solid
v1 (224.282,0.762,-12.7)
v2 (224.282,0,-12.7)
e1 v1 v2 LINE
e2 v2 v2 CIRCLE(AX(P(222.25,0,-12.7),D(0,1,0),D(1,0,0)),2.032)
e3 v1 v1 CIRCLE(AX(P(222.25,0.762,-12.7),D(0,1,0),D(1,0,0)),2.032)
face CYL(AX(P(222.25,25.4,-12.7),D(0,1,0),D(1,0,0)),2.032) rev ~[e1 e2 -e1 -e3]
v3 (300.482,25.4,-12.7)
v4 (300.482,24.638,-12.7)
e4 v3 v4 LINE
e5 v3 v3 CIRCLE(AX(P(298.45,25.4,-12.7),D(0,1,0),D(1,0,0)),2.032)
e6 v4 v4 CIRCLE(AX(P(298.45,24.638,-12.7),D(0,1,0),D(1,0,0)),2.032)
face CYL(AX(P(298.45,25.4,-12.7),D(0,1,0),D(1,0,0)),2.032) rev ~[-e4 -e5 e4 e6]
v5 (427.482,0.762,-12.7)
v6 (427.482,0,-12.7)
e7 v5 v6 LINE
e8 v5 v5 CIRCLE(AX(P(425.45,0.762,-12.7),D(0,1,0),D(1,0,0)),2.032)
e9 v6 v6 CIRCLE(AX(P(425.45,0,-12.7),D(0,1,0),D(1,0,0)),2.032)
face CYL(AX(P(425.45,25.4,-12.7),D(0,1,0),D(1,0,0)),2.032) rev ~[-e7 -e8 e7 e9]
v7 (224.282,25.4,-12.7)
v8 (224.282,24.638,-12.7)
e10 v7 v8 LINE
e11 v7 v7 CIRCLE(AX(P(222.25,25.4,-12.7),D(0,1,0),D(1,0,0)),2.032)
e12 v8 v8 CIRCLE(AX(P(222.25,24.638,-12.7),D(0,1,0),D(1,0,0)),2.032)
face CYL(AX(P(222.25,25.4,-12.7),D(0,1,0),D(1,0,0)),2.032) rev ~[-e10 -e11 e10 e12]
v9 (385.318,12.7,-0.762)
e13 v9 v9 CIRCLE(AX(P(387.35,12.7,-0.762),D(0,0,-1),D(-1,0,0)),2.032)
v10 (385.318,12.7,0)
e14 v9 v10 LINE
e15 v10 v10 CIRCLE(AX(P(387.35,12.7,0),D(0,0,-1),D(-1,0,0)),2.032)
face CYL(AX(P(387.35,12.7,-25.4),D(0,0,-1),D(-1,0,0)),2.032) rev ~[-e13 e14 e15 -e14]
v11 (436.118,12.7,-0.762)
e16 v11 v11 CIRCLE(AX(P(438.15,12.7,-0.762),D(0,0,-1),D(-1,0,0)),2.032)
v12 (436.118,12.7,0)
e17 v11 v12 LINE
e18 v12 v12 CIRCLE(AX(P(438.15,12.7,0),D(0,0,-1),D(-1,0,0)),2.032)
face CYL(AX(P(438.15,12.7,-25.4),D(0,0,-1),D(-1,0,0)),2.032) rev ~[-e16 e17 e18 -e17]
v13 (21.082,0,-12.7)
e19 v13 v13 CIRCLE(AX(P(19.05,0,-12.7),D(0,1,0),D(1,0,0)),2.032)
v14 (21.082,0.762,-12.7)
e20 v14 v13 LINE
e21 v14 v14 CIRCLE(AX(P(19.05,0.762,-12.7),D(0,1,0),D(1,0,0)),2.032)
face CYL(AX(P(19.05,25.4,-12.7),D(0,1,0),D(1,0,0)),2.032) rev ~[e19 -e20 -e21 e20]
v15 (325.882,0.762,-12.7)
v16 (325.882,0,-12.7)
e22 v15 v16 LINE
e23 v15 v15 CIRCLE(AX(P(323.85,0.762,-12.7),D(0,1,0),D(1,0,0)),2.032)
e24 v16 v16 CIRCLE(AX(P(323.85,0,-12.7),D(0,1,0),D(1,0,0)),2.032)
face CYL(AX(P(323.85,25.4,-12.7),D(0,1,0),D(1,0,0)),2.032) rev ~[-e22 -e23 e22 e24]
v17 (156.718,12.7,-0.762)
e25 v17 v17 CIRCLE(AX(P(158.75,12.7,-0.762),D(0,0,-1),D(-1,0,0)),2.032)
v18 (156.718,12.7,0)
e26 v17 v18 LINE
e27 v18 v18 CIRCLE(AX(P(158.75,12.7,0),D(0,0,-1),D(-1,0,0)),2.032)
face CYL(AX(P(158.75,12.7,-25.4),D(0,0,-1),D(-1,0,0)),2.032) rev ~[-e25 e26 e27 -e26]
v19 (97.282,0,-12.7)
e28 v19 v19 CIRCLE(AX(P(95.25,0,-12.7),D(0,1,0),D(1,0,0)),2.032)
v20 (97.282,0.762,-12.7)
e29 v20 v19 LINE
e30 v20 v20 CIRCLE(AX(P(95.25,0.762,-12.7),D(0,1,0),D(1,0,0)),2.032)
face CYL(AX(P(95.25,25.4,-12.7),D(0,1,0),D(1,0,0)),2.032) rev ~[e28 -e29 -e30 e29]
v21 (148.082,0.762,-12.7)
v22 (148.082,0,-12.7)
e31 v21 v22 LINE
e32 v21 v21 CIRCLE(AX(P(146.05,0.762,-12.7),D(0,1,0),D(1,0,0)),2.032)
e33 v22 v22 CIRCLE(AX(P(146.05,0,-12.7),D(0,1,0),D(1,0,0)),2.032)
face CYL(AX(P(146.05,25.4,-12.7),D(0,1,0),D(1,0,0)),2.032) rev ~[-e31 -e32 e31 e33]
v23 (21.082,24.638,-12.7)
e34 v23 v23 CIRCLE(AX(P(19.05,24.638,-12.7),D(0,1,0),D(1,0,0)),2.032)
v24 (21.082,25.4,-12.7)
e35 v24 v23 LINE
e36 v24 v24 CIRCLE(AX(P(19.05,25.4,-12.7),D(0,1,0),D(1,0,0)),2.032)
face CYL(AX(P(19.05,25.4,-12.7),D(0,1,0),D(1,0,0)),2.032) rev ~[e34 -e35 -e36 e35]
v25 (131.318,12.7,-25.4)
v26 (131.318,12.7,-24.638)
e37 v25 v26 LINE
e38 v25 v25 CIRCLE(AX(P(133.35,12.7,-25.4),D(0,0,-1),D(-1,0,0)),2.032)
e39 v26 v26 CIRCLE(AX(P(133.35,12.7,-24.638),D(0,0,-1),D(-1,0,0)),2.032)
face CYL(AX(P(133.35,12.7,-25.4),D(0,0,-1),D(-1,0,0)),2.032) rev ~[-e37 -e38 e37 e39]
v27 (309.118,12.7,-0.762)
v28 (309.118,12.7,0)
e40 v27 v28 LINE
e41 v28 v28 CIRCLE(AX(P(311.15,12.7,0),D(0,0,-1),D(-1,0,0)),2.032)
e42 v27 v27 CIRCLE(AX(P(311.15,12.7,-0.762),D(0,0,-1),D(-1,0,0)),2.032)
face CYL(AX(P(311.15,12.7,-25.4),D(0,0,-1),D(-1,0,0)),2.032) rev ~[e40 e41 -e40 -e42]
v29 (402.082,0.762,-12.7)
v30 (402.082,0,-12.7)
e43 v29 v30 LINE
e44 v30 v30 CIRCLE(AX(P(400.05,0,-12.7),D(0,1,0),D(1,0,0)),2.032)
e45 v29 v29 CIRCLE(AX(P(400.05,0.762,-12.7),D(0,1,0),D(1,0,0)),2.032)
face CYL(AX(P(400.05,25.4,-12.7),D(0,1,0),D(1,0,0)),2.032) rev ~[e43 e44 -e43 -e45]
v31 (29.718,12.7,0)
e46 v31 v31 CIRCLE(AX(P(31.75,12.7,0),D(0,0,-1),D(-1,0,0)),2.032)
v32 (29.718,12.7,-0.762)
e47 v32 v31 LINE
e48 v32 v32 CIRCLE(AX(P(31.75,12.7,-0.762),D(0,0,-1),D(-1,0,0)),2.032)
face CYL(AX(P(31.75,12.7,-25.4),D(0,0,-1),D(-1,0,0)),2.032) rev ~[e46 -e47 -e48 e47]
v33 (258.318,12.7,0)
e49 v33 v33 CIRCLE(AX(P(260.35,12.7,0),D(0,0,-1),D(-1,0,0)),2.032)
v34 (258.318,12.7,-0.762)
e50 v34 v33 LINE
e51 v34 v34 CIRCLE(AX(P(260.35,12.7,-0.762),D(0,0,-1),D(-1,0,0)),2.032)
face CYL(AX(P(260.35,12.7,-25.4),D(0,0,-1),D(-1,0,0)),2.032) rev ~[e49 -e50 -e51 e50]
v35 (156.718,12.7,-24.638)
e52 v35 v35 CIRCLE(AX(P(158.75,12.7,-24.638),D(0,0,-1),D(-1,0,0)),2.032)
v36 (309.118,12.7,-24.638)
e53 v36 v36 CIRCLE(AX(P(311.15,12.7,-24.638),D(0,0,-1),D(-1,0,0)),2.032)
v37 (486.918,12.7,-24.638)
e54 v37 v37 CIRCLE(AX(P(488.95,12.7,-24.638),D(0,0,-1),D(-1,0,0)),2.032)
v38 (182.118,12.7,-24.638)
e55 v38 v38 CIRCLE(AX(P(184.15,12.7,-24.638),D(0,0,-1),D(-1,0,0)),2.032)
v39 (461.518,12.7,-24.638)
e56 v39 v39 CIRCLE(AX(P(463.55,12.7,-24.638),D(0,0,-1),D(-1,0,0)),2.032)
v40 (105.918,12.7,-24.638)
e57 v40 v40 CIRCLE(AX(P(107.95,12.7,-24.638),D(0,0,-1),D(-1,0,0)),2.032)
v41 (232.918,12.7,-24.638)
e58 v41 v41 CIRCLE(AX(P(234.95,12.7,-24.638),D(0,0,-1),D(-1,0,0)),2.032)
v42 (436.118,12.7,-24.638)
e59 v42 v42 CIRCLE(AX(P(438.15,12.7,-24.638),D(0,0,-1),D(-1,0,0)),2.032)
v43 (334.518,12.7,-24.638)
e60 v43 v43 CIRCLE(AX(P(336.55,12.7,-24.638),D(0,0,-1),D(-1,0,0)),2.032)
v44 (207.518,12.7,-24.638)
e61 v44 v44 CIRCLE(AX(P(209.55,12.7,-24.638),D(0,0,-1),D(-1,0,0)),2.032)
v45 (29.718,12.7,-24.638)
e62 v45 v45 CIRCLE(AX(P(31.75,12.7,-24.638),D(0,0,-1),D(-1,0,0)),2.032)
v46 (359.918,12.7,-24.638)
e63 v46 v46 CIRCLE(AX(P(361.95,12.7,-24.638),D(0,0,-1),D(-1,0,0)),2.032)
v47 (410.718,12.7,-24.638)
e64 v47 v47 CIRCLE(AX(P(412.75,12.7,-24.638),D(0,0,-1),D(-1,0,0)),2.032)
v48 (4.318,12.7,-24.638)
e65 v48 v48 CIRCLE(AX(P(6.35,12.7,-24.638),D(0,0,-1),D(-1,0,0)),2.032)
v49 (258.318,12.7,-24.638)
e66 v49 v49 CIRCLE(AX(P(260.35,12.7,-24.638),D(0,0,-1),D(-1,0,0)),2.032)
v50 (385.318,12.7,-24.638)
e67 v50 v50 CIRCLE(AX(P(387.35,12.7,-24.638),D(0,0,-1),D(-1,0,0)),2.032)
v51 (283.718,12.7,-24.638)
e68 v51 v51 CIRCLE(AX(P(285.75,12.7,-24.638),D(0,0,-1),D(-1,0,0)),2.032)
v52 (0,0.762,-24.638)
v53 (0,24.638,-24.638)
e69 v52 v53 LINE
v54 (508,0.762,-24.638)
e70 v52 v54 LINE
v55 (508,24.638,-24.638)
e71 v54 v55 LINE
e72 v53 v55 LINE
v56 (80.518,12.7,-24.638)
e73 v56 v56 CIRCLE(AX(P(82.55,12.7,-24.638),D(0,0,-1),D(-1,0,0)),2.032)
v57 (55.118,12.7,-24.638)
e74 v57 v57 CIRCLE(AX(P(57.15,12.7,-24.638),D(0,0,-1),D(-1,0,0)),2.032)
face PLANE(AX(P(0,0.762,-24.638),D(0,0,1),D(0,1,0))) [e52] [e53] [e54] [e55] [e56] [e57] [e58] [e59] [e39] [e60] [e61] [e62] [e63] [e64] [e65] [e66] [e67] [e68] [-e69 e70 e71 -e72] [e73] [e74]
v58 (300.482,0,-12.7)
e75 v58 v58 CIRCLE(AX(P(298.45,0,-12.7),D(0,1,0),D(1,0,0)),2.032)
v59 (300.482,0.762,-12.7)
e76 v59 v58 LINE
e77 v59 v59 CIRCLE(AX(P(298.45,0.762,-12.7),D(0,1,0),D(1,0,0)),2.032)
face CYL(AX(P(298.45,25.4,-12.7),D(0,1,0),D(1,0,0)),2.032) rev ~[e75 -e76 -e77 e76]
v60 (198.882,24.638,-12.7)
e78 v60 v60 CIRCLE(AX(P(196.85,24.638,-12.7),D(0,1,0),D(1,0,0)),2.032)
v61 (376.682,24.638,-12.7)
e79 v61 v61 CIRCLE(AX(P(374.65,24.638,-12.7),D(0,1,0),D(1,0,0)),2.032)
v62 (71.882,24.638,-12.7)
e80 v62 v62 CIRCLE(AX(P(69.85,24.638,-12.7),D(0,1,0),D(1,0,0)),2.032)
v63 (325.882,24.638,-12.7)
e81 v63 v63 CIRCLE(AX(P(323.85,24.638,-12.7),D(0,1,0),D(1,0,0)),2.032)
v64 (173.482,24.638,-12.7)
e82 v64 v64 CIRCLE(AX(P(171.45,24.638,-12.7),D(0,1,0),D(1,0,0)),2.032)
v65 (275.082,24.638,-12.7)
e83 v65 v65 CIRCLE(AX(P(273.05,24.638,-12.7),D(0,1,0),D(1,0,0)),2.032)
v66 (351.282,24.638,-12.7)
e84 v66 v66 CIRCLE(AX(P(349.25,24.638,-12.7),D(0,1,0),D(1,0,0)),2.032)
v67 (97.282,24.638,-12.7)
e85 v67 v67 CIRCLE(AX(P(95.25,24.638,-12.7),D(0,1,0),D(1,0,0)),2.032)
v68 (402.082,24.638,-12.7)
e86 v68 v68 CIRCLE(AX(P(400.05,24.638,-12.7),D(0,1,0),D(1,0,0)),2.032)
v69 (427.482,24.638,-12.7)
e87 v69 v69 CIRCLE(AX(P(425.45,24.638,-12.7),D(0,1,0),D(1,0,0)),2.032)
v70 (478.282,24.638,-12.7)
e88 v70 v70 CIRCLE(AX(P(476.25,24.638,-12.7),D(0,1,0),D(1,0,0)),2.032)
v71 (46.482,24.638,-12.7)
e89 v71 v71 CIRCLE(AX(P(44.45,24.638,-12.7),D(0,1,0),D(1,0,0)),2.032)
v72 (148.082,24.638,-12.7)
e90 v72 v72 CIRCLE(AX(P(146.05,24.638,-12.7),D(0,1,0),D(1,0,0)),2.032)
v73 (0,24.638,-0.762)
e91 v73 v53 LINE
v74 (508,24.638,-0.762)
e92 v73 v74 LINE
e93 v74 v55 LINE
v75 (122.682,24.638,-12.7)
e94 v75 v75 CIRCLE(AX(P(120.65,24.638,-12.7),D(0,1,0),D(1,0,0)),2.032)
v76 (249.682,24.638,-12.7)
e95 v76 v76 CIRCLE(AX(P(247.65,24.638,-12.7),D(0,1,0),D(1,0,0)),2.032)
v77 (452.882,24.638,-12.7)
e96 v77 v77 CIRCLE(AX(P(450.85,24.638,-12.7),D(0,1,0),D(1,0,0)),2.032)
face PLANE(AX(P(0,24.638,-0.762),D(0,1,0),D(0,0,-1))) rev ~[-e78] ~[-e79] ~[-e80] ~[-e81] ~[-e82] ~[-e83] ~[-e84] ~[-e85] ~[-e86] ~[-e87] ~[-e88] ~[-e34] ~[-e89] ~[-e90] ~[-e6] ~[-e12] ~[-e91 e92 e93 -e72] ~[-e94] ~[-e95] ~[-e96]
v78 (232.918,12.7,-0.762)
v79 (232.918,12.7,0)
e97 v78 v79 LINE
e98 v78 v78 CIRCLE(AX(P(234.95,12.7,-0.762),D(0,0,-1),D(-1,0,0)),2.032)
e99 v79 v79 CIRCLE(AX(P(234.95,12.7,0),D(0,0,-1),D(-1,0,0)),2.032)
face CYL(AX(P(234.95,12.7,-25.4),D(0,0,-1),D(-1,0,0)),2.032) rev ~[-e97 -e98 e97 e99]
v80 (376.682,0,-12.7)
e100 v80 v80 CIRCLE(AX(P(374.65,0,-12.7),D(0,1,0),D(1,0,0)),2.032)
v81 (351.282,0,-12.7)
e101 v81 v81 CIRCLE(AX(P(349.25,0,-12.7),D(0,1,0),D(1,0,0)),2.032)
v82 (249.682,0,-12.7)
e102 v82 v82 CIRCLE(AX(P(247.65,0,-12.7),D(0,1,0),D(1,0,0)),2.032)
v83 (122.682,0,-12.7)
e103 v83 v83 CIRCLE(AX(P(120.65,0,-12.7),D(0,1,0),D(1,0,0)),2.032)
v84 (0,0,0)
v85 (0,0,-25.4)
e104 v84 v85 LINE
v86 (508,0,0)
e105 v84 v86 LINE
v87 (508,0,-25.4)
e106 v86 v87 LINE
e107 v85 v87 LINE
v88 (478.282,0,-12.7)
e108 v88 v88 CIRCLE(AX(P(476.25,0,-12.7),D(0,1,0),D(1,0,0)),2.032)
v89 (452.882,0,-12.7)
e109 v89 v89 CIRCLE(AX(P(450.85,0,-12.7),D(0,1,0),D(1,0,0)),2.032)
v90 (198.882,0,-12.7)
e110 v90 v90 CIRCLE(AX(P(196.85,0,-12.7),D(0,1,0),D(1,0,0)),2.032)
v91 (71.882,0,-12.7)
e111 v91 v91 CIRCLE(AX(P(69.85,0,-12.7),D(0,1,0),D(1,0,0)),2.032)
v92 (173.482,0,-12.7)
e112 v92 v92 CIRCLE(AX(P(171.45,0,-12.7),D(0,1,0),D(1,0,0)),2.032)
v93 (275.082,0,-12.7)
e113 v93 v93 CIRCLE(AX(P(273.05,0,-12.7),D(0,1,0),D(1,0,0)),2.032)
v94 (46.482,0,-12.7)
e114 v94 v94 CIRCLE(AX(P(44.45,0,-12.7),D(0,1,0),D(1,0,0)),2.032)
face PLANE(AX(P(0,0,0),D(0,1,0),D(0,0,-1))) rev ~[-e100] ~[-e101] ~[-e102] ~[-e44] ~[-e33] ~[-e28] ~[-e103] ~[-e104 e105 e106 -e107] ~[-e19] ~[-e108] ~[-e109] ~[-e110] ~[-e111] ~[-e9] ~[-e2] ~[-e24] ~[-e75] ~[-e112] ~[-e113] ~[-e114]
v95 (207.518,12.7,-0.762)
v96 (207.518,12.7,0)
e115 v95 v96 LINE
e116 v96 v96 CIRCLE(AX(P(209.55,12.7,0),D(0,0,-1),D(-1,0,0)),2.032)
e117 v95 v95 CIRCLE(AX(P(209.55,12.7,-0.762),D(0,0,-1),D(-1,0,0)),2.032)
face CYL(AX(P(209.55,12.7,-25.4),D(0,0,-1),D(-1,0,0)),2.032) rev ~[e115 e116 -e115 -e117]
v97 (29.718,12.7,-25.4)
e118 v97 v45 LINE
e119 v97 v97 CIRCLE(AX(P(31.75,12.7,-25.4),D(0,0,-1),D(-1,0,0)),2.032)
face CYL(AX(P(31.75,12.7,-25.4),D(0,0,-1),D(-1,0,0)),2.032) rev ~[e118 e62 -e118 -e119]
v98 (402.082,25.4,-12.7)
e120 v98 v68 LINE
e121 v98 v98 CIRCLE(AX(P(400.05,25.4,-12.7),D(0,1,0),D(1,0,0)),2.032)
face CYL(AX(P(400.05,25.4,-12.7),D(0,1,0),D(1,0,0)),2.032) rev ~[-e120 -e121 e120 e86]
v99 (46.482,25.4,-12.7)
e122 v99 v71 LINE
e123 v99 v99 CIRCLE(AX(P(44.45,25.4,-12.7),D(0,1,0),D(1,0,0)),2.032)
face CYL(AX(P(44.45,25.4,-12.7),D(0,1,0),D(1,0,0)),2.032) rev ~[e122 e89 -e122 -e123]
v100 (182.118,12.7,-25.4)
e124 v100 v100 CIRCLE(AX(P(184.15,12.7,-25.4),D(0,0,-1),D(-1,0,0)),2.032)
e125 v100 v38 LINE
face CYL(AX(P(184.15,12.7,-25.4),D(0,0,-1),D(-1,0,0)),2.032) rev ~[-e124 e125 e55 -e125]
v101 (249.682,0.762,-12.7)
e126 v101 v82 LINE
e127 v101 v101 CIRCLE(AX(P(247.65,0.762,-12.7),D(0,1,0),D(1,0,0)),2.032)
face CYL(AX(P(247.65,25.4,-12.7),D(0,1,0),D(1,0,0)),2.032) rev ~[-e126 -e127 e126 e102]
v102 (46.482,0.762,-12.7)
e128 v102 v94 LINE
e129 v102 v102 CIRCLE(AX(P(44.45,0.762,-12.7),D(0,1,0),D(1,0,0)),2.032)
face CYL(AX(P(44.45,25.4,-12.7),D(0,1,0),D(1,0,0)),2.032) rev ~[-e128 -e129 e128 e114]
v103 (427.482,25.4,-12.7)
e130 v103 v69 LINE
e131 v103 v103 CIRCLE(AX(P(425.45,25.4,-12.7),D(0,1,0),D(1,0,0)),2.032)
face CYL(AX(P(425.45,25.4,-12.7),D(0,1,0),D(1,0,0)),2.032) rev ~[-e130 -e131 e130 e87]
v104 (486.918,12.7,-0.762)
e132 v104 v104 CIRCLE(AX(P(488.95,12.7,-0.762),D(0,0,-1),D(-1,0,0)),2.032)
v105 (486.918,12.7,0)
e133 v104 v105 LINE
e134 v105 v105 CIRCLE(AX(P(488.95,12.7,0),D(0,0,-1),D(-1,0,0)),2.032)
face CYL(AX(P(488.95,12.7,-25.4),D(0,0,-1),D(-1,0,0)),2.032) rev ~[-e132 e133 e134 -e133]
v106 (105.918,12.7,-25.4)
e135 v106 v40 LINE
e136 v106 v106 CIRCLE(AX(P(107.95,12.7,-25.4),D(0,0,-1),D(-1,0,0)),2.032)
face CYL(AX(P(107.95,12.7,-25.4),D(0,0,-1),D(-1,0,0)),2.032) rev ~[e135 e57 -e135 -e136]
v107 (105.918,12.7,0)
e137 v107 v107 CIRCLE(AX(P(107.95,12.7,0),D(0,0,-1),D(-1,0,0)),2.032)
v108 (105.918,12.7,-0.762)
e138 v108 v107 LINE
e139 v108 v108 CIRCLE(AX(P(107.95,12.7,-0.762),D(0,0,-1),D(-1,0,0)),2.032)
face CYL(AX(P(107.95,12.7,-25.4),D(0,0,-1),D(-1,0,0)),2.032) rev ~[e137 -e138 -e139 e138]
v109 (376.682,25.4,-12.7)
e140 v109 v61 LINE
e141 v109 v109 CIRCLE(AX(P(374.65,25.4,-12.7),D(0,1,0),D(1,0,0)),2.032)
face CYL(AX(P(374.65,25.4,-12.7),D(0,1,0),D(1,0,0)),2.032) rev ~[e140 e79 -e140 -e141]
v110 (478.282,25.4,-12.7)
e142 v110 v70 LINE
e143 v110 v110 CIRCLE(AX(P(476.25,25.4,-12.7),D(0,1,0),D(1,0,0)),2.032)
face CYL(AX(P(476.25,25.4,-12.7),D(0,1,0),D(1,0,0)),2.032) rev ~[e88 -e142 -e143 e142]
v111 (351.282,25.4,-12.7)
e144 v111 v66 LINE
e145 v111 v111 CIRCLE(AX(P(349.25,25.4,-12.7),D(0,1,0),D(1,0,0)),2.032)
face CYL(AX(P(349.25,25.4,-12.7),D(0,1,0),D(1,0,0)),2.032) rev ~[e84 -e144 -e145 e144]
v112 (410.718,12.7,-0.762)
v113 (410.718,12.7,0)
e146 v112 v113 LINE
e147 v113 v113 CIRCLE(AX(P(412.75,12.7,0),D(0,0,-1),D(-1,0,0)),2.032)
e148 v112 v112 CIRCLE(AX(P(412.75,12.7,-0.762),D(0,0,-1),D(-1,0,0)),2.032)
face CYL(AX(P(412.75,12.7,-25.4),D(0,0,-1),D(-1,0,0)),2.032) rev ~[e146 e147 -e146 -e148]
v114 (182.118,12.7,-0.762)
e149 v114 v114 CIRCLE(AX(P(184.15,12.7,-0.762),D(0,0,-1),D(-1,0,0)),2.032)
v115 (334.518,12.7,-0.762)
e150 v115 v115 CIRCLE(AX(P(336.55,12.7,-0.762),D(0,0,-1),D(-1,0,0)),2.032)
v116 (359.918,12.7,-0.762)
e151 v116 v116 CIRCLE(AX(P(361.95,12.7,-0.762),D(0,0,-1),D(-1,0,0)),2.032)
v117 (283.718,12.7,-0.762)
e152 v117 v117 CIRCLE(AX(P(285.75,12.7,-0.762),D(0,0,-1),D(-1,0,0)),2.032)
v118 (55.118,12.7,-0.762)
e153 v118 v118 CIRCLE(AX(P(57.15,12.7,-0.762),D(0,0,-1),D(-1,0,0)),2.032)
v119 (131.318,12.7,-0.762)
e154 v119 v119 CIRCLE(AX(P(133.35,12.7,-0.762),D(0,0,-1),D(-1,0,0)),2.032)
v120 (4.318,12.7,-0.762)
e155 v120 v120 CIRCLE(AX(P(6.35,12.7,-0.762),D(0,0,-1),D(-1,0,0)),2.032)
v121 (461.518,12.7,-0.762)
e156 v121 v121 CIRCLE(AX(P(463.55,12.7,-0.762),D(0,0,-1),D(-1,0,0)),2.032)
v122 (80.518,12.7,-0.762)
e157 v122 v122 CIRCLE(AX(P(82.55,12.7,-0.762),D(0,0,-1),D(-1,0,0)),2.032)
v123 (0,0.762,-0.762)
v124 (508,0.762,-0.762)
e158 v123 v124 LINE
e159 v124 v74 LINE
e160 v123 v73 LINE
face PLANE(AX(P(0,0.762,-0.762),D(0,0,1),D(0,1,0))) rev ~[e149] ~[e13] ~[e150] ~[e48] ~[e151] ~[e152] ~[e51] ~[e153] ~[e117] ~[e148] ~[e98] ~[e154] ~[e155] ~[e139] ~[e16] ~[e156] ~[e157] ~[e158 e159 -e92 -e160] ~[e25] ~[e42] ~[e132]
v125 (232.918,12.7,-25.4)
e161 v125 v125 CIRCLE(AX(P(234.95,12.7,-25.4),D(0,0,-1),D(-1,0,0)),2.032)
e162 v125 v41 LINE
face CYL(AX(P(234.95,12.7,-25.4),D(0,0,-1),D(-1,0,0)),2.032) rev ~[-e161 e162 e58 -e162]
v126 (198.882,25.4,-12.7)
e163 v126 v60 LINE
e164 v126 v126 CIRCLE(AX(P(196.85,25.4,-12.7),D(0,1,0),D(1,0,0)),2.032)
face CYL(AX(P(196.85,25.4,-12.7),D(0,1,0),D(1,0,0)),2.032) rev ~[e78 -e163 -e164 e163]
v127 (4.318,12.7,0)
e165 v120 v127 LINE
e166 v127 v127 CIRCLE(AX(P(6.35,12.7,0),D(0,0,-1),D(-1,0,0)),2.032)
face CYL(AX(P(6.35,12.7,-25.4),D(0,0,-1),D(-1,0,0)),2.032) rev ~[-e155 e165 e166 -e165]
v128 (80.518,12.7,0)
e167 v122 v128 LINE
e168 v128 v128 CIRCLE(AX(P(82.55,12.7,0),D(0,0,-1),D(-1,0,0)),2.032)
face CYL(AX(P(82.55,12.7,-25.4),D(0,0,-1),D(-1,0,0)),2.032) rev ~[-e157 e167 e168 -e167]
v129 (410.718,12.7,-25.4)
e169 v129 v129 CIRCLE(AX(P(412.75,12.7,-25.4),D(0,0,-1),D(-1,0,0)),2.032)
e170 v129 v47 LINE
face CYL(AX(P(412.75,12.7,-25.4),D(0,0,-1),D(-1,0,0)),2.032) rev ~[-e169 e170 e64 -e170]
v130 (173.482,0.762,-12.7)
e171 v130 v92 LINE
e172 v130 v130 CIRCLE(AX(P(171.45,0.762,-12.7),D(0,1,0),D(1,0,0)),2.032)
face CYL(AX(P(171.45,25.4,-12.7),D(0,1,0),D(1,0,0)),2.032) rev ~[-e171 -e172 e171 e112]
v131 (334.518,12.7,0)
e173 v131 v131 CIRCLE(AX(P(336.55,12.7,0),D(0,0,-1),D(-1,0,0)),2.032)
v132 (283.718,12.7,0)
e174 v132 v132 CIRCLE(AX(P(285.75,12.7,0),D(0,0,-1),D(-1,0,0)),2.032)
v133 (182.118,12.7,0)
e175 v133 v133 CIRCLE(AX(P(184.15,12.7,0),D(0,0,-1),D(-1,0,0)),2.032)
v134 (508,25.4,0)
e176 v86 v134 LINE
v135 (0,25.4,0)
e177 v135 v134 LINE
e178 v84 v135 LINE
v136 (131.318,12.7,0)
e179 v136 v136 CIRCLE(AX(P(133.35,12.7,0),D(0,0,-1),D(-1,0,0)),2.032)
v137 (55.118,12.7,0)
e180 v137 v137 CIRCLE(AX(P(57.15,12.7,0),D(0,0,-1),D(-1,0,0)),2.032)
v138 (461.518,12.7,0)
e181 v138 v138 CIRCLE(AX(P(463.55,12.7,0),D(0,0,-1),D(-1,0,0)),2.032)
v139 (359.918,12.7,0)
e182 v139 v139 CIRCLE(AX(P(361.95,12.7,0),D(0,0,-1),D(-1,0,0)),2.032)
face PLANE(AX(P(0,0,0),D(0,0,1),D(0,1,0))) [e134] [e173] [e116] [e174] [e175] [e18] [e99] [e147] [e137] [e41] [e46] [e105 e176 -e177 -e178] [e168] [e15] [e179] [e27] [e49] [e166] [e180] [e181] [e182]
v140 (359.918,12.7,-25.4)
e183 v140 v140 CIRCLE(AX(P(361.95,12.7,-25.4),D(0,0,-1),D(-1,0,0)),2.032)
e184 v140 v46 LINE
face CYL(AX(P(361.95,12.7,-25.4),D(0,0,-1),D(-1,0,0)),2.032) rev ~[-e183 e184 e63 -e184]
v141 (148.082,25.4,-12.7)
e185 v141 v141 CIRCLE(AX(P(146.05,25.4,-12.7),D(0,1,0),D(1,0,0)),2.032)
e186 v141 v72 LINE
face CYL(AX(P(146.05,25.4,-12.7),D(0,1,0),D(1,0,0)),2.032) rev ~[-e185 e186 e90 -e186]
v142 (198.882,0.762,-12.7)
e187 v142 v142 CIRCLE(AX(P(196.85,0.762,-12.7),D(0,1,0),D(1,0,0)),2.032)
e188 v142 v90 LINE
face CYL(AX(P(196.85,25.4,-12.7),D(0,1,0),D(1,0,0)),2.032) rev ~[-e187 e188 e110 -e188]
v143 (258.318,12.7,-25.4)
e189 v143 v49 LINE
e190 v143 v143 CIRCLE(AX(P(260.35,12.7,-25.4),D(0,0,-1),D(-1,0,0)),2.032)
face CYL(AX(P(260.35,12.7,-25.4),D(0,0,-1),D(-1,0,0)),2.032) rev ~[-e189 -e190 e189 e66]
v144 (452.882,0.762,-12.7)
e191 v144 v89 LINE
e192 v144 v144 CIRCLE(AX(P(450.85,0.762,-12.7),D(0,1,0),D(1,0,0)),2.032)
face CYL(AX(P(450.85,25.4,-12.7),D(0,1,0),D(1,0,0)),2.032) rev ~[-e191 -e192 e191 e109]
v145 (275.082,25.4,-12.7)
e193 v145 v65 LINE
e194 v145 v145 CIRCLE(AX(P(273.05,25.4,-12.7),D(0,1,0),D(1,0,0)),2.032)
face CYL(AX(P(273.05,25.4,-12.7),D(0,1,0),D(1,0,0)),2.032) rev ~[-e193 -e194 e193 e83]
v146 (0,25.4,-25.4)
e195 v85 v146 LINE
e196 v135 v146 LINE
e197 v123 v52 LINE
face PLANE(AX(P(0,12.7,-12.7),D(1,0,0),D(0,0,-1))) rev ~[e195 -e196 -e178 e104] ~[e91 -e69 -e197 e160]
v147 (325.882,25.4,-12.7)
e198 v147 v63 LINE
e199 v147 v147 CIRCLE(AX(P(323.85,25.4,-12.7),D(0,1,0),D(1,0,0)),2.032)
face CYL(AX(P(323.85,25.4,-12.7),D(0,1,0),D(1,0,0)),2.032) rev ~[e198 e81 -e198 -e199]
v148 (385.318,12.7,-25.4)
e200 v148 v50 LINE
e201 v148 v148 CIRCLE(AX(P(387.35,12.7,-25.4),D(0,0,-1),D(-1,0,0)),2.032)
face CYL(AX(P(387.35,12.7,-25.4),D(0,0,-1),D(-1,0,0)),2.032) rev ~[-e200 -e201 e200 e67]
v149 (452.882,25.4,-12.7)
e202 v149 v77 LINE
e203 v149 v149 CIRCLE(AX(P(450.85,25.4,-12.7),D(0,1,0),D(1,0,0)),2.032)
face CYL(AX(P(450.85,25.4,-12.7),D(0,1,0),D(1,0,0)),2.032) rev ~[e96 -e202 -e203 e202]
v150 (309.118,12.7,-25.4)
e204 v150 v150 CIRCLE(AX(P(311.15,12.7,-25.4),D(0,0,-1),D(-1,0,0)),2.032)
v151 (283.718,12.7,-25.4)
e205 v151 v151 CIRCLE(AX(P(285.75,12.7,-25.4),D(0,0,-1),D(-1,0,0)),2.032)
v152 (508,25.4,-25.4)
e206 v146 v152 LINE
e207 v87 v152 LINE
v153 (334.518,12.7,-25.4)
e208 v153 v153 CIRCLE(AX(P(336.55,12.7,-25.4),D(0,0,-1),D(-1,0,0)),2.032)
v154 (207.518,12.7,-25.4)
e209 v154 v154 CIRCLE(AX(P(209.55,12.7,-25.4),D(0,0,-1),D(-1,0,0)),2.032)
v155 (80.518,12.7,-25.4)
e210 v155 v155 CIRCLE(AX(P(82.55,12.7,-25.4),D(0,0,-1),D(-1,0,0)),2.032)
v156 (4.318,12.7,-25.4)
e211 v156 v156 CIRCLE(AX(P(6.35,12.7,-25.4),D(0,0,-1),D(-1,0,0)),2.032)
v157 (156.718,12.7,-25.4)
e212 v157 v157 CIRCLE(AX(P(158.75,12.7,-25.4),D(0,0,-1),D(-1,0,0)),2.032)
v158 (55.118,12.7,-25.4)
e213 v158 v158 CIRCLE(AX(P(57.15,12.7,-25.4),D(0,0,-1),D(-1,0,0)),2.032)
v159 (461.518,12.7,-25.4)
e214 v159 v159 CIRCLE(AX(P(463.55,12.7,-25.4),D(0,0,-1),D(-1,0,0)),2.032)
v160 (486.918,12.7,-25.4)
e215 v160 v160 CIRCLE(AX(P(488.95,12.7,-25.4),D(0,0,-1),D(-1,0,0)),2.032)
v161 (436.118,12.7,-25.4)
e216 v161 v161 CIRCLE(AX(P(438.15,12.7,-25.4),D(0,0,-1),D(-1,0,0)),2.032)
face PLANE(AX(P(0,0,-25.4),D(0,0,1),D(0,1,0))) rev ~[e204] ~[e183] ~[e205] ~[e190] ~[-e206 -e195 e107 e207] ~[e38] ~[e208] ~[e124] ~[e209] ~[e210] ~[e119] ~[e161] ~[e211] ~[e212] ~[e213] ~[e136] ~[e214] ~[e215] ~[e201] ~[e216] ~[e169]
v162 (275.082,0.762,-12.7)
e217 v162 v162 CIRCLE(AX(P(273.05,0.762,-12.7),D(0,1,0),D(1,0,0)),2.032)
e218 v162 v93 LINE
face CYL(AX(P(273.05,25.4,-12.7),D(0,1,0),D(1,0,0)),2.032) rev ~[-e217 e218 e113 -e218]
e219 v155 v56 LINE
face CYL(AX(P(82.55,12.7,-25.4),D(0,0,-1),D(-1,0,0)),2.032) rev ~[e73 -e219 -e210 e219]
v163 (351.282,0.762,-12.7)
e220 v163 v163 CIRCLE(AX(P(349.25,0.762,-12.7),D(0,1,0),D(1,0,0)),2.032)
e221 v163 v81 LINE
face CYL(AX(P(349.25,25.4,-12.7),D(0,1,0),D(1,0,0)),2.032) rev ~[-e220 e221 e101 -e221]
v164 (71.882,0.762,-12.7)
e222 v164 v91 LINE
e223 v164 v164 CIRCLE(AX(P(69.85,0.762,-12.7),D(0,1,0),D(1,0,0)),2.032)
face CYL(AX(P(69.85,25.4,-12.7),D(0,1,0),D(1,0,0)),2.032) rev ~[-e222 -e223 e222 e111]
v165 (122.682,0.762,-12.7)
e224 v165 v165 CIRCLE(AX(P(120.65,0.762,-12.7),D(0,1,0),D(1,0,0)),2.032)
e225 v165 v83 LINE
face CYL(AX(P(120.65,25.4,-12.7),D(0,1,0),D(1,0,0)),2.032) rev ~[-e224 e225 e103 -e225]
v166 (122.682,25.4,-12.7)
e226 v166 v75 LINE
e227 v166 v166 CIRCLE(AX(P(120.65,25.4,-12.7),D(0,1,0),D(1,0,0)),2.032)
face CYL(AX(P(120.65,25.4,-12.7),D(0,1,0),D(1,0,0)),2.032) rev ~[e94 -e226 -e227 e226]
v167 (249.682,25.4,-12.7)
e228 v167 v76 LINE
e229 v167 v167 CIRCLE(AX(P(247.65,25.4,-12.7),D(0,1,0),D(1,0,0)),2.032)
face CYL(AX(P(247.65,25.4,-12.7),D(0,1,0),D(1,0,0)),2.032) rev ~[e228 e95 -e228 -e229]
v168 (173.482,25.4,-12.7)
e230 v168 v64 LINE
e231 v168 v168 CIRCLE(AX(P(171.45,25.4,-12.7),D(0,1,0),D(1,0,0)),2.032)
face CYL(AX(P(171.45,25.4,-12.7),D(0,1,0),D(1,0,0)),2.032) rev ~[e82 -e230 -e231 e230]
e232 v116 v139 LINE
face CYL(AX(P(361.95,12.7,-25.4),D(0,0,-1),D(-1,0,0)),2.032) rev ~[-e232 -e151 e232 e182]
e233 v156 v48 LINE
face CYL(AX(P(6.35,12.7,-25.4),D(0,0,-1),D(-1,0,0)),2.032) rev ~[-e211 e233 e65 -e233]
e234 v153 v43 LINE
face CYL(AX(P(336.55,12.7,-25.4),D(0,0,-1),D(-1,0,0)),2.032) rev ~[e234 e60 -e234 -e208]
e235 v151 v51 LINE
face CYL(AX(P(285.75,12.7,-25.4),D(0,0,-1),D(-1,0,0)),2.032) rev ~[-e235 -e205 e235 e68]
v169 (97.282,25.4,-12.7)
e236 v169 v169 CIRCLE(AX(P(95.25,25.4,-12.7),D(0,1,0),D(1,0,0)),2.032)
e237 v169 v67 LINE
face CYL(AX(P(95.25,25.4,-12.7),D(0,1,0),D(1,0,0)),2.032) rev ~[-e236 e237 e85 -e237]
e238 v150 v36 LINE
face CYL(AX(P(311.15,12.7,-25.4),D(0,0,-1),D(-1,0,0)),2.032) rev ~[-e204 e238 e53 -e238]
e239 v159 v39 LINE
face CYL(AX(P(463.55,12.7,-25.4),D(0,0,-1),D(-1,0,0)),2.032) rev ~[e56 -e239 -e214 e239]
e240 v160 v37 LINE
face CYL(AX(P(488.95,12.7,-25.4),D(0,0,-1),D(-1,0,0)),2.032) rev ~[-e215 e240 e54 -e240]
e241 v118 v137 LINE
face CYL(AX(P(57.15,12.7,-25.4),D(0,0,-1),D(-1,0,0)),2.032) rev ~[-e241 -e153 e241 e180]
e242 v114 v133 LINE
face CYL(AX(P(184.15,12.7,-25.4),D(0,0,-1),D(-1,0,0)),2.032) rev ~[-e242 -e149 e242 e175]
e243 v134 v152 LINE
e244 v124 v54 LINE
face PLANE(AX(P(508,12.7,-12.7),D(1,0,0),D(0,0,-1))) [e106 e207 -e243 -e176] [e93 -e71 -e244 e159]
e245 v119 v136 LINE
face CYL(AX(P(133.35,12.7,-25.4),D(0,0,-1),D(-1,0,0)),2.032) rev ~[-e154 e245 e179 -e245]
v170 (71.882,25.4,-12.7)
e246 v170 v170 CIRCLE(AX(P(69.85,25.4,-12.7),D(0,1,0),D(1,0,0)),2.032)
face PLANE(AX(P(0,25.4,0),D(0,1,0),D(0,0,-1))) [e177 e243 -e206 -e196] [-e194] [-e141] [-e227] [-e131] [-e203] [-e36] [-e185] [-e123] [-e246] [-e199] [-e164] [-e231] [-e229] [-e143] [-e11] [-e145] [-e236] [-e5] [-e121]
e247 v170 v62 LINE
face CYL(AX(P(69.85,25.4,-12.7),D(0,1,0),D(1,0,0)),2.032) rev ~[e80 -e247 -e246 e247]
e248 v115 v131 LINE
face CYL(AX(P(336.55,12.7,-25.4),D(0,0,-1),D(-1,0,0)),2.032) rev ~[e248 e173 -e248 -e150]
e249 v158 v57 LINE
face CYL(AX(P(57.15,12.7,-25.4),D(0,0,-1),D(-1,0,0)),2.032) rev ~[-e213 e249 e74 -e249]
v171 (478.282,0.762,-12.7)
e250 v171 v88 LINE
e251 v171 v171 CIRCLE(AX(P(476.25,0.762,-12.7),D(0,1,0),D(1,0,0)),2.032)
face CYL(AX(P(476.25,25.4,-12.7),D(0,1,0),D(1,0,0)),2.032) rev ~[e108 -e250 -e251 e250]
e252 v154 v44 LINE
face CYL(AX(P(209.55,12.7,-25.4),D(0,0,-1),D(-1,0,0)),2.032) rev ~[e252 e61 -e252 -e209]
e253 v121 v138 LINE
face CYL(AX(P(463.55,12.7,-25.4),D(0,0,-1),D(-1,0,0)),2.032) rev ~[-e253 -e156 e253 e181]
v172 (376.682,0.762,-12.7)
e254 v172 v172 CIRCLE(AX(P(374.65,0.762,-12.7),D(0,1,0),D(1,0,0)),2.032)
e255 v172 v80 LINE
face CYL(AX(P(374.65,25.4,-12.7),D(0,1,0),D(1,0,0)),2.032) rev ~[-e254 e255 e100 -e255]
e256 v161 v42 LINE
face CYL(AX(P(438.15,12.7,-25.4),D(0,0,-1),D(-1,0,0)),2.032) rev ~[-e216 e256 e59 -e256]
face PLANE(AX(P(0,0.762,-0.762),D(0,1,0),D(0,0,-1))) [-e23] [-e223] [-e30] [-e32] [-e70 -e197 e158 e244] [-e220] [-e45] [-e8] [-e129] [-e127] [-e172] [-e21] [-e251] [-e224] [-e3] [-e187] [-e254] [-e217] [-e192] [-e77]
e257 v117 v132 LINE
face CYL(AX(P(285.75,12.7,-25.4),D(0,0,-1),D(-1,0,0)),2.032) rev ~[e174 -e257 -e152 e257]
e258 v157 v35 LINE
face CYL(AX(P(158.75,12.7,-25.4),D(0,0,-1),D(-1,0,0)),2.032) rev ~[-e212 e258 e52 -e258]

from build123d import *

# Parameters (mm, degrees)
SKETCH1_W           = 25.4
SKETCH1_H           = 25.4
SKETCH1_W_2         = 23.876
SKETCH1_H_2         = 23.876
EXTRUDE_THIN1_DEPTH = 508
SKETCH2_R           = 2.032
CUT_EXTRUDE1_DEPTH  = 26.4
SKETCH3_R           = 2.032
CUT_EXTRUDE2_DEPTH  = 26.4


with BuildPart() as part:
    # Sketch1 → Extrude-Thin1 (new body)
    with BuildSketch(Plane(origin=(0, 0, 0), x_dir=(0, 0, -1), z_dir=(1, 0, 0))):
        with Locations((12.7, 12.7)):
            Rectangle(SKETCH1_W, SKETCH1_H)
        with Locations((12.7, 12.7)):
            Rectangle(SKETCH1_W_2, SKETCH1_H_2, mode=Mode.SUBTRACT)
    extrude(amount=EXTRUDE_THIN1_DEPTH)

    # Sketch2 → Cut-Extrude1 (cut, through all)
    with BuildSketch(Plane(origin=(0, 0, -25.4), x_dir=(-1, 0, 0), z_dir=(0, 0, -1))):
        with Locations((-6.35, 12.7)):
            Circle(SKETCH2_R)
        with Locations((-31.75, 12.7)):
            Circle(SKETCH2_R)
        with Locations((-57.15, 12.7)):
            Circle(SKETCH2_R)
        with Locations((-82.55, 12.7)):
            Circle(SKETCH2_R)
        with Locations((-107.95, 12.7)):
            Circle(SKETCH2_R)
        with Locations((-133.35, 12.7)):
            Circle(SKETCH2_R)
        with Locations((-158.75, 12.7)):
            Circle(SKETCH2_R)
        with Locations((-184.15, 12.7)):
            Circle(SKETCH2_R)
        with Locations((-209.55, 12.7)):
            Circle(SKETCH2_R)
        with Locations((-234.95, 12.7)):
            Circle(SKETCH2_R)
        with Locations((-260.35, 12.7)):
            Circle(SKETCH2_R)
        with Locations((-285.75, 12.7)):
            Circle(SKETCH2_R)
        with Locations((-311.15, 12.7)):
            Circle(SKETCH2_R)
        with Locations((-336.55, 12.7)):
            Circle(SKETCH2_R)
        with Locations((-361.95, 12.7)):
            Circle(SKETCH2_R)
        with Locations((-387.35, 12.7)):
            Circle(SKETCH2_R)
        with Locations((-412.75, 12.7)):
            Circle(SKETCH2_R)
        with Locations((-438.15, 12.7)):
            Circle(SKETCH2_R)
        with Locations((-463.55, 12.7)):
            Circle(SKETCH2_R)
        with Locations((-488.95, 12.7)):
            Circle(SKETCH2_R)
    extrude(amount=-CUT_EXTRUDE1_DEPTH, mode=Mode.SUBTRACT)

    # Sketch3 → Cut-Extrude2 (cut, through all)
    with BuildSketch(Plane(origin=(0, 25.4, 0), x_dir=(1, 0, 0), z_dir=(0, 1, 0))):
        with Locations((476.25, 12.7)):
            Circle(SKETCH3_R)
        with Locations((450.85, 12.7)):
            Circle(SKETCH3_R)
        with Locations((425.45, 12.7)):
            Circle(SKETCH3_R)
        with Locations((400.05, 12.7)):
            Circle(SKETCH3_R)
        with Locations((374.65, 12.7)):
            Circle(SKETCH3_R)
        with Locations((349.25, 12.7)):
            Circle(SKETCH3_R)
        with Locations((323.85, 12.7)):
            Circle(SKETCH3_R)
        with Locations((298.45, 12.7)):
            Circle(SKETCH3_R)
        with Locations((273.05, 12.7)):
            Circle(SKETCH3_R)
        with Locations((247.65, 12.7)):
            Circle(SKETCH3_R)
        with Locations((222.25, 12.7)):
            Circle(SKETCH3_R)
        with Locations((196.85, 12.7)):
            Circle(SKETCH3_R)
        with Locations((171.45, 12.7)):
            Circle(SKETCH3_R)
        with Locations((146.05, 12.7)):
            Circle(SKETCH3_R)
        with Locations((120.65, 12.7)):
            Circle(SKETCH3_R)
        with Locations((95.25, 12.7)):
            Circle(SKETCH3_R)
        with Locations((69.85, 12.7)):
            Circle(SKETCH3_R)
        with Locations((44.45, 12.7)):
            Circle(SKETCH3_R)
        with Locations((19.05, 12.7)):
            Circle(SKETCH3_R)
    extrude(amount=-CUT_EXTRUDE2_DEPTH, mode=Mode.SUBTRACT)


solid = part.part
